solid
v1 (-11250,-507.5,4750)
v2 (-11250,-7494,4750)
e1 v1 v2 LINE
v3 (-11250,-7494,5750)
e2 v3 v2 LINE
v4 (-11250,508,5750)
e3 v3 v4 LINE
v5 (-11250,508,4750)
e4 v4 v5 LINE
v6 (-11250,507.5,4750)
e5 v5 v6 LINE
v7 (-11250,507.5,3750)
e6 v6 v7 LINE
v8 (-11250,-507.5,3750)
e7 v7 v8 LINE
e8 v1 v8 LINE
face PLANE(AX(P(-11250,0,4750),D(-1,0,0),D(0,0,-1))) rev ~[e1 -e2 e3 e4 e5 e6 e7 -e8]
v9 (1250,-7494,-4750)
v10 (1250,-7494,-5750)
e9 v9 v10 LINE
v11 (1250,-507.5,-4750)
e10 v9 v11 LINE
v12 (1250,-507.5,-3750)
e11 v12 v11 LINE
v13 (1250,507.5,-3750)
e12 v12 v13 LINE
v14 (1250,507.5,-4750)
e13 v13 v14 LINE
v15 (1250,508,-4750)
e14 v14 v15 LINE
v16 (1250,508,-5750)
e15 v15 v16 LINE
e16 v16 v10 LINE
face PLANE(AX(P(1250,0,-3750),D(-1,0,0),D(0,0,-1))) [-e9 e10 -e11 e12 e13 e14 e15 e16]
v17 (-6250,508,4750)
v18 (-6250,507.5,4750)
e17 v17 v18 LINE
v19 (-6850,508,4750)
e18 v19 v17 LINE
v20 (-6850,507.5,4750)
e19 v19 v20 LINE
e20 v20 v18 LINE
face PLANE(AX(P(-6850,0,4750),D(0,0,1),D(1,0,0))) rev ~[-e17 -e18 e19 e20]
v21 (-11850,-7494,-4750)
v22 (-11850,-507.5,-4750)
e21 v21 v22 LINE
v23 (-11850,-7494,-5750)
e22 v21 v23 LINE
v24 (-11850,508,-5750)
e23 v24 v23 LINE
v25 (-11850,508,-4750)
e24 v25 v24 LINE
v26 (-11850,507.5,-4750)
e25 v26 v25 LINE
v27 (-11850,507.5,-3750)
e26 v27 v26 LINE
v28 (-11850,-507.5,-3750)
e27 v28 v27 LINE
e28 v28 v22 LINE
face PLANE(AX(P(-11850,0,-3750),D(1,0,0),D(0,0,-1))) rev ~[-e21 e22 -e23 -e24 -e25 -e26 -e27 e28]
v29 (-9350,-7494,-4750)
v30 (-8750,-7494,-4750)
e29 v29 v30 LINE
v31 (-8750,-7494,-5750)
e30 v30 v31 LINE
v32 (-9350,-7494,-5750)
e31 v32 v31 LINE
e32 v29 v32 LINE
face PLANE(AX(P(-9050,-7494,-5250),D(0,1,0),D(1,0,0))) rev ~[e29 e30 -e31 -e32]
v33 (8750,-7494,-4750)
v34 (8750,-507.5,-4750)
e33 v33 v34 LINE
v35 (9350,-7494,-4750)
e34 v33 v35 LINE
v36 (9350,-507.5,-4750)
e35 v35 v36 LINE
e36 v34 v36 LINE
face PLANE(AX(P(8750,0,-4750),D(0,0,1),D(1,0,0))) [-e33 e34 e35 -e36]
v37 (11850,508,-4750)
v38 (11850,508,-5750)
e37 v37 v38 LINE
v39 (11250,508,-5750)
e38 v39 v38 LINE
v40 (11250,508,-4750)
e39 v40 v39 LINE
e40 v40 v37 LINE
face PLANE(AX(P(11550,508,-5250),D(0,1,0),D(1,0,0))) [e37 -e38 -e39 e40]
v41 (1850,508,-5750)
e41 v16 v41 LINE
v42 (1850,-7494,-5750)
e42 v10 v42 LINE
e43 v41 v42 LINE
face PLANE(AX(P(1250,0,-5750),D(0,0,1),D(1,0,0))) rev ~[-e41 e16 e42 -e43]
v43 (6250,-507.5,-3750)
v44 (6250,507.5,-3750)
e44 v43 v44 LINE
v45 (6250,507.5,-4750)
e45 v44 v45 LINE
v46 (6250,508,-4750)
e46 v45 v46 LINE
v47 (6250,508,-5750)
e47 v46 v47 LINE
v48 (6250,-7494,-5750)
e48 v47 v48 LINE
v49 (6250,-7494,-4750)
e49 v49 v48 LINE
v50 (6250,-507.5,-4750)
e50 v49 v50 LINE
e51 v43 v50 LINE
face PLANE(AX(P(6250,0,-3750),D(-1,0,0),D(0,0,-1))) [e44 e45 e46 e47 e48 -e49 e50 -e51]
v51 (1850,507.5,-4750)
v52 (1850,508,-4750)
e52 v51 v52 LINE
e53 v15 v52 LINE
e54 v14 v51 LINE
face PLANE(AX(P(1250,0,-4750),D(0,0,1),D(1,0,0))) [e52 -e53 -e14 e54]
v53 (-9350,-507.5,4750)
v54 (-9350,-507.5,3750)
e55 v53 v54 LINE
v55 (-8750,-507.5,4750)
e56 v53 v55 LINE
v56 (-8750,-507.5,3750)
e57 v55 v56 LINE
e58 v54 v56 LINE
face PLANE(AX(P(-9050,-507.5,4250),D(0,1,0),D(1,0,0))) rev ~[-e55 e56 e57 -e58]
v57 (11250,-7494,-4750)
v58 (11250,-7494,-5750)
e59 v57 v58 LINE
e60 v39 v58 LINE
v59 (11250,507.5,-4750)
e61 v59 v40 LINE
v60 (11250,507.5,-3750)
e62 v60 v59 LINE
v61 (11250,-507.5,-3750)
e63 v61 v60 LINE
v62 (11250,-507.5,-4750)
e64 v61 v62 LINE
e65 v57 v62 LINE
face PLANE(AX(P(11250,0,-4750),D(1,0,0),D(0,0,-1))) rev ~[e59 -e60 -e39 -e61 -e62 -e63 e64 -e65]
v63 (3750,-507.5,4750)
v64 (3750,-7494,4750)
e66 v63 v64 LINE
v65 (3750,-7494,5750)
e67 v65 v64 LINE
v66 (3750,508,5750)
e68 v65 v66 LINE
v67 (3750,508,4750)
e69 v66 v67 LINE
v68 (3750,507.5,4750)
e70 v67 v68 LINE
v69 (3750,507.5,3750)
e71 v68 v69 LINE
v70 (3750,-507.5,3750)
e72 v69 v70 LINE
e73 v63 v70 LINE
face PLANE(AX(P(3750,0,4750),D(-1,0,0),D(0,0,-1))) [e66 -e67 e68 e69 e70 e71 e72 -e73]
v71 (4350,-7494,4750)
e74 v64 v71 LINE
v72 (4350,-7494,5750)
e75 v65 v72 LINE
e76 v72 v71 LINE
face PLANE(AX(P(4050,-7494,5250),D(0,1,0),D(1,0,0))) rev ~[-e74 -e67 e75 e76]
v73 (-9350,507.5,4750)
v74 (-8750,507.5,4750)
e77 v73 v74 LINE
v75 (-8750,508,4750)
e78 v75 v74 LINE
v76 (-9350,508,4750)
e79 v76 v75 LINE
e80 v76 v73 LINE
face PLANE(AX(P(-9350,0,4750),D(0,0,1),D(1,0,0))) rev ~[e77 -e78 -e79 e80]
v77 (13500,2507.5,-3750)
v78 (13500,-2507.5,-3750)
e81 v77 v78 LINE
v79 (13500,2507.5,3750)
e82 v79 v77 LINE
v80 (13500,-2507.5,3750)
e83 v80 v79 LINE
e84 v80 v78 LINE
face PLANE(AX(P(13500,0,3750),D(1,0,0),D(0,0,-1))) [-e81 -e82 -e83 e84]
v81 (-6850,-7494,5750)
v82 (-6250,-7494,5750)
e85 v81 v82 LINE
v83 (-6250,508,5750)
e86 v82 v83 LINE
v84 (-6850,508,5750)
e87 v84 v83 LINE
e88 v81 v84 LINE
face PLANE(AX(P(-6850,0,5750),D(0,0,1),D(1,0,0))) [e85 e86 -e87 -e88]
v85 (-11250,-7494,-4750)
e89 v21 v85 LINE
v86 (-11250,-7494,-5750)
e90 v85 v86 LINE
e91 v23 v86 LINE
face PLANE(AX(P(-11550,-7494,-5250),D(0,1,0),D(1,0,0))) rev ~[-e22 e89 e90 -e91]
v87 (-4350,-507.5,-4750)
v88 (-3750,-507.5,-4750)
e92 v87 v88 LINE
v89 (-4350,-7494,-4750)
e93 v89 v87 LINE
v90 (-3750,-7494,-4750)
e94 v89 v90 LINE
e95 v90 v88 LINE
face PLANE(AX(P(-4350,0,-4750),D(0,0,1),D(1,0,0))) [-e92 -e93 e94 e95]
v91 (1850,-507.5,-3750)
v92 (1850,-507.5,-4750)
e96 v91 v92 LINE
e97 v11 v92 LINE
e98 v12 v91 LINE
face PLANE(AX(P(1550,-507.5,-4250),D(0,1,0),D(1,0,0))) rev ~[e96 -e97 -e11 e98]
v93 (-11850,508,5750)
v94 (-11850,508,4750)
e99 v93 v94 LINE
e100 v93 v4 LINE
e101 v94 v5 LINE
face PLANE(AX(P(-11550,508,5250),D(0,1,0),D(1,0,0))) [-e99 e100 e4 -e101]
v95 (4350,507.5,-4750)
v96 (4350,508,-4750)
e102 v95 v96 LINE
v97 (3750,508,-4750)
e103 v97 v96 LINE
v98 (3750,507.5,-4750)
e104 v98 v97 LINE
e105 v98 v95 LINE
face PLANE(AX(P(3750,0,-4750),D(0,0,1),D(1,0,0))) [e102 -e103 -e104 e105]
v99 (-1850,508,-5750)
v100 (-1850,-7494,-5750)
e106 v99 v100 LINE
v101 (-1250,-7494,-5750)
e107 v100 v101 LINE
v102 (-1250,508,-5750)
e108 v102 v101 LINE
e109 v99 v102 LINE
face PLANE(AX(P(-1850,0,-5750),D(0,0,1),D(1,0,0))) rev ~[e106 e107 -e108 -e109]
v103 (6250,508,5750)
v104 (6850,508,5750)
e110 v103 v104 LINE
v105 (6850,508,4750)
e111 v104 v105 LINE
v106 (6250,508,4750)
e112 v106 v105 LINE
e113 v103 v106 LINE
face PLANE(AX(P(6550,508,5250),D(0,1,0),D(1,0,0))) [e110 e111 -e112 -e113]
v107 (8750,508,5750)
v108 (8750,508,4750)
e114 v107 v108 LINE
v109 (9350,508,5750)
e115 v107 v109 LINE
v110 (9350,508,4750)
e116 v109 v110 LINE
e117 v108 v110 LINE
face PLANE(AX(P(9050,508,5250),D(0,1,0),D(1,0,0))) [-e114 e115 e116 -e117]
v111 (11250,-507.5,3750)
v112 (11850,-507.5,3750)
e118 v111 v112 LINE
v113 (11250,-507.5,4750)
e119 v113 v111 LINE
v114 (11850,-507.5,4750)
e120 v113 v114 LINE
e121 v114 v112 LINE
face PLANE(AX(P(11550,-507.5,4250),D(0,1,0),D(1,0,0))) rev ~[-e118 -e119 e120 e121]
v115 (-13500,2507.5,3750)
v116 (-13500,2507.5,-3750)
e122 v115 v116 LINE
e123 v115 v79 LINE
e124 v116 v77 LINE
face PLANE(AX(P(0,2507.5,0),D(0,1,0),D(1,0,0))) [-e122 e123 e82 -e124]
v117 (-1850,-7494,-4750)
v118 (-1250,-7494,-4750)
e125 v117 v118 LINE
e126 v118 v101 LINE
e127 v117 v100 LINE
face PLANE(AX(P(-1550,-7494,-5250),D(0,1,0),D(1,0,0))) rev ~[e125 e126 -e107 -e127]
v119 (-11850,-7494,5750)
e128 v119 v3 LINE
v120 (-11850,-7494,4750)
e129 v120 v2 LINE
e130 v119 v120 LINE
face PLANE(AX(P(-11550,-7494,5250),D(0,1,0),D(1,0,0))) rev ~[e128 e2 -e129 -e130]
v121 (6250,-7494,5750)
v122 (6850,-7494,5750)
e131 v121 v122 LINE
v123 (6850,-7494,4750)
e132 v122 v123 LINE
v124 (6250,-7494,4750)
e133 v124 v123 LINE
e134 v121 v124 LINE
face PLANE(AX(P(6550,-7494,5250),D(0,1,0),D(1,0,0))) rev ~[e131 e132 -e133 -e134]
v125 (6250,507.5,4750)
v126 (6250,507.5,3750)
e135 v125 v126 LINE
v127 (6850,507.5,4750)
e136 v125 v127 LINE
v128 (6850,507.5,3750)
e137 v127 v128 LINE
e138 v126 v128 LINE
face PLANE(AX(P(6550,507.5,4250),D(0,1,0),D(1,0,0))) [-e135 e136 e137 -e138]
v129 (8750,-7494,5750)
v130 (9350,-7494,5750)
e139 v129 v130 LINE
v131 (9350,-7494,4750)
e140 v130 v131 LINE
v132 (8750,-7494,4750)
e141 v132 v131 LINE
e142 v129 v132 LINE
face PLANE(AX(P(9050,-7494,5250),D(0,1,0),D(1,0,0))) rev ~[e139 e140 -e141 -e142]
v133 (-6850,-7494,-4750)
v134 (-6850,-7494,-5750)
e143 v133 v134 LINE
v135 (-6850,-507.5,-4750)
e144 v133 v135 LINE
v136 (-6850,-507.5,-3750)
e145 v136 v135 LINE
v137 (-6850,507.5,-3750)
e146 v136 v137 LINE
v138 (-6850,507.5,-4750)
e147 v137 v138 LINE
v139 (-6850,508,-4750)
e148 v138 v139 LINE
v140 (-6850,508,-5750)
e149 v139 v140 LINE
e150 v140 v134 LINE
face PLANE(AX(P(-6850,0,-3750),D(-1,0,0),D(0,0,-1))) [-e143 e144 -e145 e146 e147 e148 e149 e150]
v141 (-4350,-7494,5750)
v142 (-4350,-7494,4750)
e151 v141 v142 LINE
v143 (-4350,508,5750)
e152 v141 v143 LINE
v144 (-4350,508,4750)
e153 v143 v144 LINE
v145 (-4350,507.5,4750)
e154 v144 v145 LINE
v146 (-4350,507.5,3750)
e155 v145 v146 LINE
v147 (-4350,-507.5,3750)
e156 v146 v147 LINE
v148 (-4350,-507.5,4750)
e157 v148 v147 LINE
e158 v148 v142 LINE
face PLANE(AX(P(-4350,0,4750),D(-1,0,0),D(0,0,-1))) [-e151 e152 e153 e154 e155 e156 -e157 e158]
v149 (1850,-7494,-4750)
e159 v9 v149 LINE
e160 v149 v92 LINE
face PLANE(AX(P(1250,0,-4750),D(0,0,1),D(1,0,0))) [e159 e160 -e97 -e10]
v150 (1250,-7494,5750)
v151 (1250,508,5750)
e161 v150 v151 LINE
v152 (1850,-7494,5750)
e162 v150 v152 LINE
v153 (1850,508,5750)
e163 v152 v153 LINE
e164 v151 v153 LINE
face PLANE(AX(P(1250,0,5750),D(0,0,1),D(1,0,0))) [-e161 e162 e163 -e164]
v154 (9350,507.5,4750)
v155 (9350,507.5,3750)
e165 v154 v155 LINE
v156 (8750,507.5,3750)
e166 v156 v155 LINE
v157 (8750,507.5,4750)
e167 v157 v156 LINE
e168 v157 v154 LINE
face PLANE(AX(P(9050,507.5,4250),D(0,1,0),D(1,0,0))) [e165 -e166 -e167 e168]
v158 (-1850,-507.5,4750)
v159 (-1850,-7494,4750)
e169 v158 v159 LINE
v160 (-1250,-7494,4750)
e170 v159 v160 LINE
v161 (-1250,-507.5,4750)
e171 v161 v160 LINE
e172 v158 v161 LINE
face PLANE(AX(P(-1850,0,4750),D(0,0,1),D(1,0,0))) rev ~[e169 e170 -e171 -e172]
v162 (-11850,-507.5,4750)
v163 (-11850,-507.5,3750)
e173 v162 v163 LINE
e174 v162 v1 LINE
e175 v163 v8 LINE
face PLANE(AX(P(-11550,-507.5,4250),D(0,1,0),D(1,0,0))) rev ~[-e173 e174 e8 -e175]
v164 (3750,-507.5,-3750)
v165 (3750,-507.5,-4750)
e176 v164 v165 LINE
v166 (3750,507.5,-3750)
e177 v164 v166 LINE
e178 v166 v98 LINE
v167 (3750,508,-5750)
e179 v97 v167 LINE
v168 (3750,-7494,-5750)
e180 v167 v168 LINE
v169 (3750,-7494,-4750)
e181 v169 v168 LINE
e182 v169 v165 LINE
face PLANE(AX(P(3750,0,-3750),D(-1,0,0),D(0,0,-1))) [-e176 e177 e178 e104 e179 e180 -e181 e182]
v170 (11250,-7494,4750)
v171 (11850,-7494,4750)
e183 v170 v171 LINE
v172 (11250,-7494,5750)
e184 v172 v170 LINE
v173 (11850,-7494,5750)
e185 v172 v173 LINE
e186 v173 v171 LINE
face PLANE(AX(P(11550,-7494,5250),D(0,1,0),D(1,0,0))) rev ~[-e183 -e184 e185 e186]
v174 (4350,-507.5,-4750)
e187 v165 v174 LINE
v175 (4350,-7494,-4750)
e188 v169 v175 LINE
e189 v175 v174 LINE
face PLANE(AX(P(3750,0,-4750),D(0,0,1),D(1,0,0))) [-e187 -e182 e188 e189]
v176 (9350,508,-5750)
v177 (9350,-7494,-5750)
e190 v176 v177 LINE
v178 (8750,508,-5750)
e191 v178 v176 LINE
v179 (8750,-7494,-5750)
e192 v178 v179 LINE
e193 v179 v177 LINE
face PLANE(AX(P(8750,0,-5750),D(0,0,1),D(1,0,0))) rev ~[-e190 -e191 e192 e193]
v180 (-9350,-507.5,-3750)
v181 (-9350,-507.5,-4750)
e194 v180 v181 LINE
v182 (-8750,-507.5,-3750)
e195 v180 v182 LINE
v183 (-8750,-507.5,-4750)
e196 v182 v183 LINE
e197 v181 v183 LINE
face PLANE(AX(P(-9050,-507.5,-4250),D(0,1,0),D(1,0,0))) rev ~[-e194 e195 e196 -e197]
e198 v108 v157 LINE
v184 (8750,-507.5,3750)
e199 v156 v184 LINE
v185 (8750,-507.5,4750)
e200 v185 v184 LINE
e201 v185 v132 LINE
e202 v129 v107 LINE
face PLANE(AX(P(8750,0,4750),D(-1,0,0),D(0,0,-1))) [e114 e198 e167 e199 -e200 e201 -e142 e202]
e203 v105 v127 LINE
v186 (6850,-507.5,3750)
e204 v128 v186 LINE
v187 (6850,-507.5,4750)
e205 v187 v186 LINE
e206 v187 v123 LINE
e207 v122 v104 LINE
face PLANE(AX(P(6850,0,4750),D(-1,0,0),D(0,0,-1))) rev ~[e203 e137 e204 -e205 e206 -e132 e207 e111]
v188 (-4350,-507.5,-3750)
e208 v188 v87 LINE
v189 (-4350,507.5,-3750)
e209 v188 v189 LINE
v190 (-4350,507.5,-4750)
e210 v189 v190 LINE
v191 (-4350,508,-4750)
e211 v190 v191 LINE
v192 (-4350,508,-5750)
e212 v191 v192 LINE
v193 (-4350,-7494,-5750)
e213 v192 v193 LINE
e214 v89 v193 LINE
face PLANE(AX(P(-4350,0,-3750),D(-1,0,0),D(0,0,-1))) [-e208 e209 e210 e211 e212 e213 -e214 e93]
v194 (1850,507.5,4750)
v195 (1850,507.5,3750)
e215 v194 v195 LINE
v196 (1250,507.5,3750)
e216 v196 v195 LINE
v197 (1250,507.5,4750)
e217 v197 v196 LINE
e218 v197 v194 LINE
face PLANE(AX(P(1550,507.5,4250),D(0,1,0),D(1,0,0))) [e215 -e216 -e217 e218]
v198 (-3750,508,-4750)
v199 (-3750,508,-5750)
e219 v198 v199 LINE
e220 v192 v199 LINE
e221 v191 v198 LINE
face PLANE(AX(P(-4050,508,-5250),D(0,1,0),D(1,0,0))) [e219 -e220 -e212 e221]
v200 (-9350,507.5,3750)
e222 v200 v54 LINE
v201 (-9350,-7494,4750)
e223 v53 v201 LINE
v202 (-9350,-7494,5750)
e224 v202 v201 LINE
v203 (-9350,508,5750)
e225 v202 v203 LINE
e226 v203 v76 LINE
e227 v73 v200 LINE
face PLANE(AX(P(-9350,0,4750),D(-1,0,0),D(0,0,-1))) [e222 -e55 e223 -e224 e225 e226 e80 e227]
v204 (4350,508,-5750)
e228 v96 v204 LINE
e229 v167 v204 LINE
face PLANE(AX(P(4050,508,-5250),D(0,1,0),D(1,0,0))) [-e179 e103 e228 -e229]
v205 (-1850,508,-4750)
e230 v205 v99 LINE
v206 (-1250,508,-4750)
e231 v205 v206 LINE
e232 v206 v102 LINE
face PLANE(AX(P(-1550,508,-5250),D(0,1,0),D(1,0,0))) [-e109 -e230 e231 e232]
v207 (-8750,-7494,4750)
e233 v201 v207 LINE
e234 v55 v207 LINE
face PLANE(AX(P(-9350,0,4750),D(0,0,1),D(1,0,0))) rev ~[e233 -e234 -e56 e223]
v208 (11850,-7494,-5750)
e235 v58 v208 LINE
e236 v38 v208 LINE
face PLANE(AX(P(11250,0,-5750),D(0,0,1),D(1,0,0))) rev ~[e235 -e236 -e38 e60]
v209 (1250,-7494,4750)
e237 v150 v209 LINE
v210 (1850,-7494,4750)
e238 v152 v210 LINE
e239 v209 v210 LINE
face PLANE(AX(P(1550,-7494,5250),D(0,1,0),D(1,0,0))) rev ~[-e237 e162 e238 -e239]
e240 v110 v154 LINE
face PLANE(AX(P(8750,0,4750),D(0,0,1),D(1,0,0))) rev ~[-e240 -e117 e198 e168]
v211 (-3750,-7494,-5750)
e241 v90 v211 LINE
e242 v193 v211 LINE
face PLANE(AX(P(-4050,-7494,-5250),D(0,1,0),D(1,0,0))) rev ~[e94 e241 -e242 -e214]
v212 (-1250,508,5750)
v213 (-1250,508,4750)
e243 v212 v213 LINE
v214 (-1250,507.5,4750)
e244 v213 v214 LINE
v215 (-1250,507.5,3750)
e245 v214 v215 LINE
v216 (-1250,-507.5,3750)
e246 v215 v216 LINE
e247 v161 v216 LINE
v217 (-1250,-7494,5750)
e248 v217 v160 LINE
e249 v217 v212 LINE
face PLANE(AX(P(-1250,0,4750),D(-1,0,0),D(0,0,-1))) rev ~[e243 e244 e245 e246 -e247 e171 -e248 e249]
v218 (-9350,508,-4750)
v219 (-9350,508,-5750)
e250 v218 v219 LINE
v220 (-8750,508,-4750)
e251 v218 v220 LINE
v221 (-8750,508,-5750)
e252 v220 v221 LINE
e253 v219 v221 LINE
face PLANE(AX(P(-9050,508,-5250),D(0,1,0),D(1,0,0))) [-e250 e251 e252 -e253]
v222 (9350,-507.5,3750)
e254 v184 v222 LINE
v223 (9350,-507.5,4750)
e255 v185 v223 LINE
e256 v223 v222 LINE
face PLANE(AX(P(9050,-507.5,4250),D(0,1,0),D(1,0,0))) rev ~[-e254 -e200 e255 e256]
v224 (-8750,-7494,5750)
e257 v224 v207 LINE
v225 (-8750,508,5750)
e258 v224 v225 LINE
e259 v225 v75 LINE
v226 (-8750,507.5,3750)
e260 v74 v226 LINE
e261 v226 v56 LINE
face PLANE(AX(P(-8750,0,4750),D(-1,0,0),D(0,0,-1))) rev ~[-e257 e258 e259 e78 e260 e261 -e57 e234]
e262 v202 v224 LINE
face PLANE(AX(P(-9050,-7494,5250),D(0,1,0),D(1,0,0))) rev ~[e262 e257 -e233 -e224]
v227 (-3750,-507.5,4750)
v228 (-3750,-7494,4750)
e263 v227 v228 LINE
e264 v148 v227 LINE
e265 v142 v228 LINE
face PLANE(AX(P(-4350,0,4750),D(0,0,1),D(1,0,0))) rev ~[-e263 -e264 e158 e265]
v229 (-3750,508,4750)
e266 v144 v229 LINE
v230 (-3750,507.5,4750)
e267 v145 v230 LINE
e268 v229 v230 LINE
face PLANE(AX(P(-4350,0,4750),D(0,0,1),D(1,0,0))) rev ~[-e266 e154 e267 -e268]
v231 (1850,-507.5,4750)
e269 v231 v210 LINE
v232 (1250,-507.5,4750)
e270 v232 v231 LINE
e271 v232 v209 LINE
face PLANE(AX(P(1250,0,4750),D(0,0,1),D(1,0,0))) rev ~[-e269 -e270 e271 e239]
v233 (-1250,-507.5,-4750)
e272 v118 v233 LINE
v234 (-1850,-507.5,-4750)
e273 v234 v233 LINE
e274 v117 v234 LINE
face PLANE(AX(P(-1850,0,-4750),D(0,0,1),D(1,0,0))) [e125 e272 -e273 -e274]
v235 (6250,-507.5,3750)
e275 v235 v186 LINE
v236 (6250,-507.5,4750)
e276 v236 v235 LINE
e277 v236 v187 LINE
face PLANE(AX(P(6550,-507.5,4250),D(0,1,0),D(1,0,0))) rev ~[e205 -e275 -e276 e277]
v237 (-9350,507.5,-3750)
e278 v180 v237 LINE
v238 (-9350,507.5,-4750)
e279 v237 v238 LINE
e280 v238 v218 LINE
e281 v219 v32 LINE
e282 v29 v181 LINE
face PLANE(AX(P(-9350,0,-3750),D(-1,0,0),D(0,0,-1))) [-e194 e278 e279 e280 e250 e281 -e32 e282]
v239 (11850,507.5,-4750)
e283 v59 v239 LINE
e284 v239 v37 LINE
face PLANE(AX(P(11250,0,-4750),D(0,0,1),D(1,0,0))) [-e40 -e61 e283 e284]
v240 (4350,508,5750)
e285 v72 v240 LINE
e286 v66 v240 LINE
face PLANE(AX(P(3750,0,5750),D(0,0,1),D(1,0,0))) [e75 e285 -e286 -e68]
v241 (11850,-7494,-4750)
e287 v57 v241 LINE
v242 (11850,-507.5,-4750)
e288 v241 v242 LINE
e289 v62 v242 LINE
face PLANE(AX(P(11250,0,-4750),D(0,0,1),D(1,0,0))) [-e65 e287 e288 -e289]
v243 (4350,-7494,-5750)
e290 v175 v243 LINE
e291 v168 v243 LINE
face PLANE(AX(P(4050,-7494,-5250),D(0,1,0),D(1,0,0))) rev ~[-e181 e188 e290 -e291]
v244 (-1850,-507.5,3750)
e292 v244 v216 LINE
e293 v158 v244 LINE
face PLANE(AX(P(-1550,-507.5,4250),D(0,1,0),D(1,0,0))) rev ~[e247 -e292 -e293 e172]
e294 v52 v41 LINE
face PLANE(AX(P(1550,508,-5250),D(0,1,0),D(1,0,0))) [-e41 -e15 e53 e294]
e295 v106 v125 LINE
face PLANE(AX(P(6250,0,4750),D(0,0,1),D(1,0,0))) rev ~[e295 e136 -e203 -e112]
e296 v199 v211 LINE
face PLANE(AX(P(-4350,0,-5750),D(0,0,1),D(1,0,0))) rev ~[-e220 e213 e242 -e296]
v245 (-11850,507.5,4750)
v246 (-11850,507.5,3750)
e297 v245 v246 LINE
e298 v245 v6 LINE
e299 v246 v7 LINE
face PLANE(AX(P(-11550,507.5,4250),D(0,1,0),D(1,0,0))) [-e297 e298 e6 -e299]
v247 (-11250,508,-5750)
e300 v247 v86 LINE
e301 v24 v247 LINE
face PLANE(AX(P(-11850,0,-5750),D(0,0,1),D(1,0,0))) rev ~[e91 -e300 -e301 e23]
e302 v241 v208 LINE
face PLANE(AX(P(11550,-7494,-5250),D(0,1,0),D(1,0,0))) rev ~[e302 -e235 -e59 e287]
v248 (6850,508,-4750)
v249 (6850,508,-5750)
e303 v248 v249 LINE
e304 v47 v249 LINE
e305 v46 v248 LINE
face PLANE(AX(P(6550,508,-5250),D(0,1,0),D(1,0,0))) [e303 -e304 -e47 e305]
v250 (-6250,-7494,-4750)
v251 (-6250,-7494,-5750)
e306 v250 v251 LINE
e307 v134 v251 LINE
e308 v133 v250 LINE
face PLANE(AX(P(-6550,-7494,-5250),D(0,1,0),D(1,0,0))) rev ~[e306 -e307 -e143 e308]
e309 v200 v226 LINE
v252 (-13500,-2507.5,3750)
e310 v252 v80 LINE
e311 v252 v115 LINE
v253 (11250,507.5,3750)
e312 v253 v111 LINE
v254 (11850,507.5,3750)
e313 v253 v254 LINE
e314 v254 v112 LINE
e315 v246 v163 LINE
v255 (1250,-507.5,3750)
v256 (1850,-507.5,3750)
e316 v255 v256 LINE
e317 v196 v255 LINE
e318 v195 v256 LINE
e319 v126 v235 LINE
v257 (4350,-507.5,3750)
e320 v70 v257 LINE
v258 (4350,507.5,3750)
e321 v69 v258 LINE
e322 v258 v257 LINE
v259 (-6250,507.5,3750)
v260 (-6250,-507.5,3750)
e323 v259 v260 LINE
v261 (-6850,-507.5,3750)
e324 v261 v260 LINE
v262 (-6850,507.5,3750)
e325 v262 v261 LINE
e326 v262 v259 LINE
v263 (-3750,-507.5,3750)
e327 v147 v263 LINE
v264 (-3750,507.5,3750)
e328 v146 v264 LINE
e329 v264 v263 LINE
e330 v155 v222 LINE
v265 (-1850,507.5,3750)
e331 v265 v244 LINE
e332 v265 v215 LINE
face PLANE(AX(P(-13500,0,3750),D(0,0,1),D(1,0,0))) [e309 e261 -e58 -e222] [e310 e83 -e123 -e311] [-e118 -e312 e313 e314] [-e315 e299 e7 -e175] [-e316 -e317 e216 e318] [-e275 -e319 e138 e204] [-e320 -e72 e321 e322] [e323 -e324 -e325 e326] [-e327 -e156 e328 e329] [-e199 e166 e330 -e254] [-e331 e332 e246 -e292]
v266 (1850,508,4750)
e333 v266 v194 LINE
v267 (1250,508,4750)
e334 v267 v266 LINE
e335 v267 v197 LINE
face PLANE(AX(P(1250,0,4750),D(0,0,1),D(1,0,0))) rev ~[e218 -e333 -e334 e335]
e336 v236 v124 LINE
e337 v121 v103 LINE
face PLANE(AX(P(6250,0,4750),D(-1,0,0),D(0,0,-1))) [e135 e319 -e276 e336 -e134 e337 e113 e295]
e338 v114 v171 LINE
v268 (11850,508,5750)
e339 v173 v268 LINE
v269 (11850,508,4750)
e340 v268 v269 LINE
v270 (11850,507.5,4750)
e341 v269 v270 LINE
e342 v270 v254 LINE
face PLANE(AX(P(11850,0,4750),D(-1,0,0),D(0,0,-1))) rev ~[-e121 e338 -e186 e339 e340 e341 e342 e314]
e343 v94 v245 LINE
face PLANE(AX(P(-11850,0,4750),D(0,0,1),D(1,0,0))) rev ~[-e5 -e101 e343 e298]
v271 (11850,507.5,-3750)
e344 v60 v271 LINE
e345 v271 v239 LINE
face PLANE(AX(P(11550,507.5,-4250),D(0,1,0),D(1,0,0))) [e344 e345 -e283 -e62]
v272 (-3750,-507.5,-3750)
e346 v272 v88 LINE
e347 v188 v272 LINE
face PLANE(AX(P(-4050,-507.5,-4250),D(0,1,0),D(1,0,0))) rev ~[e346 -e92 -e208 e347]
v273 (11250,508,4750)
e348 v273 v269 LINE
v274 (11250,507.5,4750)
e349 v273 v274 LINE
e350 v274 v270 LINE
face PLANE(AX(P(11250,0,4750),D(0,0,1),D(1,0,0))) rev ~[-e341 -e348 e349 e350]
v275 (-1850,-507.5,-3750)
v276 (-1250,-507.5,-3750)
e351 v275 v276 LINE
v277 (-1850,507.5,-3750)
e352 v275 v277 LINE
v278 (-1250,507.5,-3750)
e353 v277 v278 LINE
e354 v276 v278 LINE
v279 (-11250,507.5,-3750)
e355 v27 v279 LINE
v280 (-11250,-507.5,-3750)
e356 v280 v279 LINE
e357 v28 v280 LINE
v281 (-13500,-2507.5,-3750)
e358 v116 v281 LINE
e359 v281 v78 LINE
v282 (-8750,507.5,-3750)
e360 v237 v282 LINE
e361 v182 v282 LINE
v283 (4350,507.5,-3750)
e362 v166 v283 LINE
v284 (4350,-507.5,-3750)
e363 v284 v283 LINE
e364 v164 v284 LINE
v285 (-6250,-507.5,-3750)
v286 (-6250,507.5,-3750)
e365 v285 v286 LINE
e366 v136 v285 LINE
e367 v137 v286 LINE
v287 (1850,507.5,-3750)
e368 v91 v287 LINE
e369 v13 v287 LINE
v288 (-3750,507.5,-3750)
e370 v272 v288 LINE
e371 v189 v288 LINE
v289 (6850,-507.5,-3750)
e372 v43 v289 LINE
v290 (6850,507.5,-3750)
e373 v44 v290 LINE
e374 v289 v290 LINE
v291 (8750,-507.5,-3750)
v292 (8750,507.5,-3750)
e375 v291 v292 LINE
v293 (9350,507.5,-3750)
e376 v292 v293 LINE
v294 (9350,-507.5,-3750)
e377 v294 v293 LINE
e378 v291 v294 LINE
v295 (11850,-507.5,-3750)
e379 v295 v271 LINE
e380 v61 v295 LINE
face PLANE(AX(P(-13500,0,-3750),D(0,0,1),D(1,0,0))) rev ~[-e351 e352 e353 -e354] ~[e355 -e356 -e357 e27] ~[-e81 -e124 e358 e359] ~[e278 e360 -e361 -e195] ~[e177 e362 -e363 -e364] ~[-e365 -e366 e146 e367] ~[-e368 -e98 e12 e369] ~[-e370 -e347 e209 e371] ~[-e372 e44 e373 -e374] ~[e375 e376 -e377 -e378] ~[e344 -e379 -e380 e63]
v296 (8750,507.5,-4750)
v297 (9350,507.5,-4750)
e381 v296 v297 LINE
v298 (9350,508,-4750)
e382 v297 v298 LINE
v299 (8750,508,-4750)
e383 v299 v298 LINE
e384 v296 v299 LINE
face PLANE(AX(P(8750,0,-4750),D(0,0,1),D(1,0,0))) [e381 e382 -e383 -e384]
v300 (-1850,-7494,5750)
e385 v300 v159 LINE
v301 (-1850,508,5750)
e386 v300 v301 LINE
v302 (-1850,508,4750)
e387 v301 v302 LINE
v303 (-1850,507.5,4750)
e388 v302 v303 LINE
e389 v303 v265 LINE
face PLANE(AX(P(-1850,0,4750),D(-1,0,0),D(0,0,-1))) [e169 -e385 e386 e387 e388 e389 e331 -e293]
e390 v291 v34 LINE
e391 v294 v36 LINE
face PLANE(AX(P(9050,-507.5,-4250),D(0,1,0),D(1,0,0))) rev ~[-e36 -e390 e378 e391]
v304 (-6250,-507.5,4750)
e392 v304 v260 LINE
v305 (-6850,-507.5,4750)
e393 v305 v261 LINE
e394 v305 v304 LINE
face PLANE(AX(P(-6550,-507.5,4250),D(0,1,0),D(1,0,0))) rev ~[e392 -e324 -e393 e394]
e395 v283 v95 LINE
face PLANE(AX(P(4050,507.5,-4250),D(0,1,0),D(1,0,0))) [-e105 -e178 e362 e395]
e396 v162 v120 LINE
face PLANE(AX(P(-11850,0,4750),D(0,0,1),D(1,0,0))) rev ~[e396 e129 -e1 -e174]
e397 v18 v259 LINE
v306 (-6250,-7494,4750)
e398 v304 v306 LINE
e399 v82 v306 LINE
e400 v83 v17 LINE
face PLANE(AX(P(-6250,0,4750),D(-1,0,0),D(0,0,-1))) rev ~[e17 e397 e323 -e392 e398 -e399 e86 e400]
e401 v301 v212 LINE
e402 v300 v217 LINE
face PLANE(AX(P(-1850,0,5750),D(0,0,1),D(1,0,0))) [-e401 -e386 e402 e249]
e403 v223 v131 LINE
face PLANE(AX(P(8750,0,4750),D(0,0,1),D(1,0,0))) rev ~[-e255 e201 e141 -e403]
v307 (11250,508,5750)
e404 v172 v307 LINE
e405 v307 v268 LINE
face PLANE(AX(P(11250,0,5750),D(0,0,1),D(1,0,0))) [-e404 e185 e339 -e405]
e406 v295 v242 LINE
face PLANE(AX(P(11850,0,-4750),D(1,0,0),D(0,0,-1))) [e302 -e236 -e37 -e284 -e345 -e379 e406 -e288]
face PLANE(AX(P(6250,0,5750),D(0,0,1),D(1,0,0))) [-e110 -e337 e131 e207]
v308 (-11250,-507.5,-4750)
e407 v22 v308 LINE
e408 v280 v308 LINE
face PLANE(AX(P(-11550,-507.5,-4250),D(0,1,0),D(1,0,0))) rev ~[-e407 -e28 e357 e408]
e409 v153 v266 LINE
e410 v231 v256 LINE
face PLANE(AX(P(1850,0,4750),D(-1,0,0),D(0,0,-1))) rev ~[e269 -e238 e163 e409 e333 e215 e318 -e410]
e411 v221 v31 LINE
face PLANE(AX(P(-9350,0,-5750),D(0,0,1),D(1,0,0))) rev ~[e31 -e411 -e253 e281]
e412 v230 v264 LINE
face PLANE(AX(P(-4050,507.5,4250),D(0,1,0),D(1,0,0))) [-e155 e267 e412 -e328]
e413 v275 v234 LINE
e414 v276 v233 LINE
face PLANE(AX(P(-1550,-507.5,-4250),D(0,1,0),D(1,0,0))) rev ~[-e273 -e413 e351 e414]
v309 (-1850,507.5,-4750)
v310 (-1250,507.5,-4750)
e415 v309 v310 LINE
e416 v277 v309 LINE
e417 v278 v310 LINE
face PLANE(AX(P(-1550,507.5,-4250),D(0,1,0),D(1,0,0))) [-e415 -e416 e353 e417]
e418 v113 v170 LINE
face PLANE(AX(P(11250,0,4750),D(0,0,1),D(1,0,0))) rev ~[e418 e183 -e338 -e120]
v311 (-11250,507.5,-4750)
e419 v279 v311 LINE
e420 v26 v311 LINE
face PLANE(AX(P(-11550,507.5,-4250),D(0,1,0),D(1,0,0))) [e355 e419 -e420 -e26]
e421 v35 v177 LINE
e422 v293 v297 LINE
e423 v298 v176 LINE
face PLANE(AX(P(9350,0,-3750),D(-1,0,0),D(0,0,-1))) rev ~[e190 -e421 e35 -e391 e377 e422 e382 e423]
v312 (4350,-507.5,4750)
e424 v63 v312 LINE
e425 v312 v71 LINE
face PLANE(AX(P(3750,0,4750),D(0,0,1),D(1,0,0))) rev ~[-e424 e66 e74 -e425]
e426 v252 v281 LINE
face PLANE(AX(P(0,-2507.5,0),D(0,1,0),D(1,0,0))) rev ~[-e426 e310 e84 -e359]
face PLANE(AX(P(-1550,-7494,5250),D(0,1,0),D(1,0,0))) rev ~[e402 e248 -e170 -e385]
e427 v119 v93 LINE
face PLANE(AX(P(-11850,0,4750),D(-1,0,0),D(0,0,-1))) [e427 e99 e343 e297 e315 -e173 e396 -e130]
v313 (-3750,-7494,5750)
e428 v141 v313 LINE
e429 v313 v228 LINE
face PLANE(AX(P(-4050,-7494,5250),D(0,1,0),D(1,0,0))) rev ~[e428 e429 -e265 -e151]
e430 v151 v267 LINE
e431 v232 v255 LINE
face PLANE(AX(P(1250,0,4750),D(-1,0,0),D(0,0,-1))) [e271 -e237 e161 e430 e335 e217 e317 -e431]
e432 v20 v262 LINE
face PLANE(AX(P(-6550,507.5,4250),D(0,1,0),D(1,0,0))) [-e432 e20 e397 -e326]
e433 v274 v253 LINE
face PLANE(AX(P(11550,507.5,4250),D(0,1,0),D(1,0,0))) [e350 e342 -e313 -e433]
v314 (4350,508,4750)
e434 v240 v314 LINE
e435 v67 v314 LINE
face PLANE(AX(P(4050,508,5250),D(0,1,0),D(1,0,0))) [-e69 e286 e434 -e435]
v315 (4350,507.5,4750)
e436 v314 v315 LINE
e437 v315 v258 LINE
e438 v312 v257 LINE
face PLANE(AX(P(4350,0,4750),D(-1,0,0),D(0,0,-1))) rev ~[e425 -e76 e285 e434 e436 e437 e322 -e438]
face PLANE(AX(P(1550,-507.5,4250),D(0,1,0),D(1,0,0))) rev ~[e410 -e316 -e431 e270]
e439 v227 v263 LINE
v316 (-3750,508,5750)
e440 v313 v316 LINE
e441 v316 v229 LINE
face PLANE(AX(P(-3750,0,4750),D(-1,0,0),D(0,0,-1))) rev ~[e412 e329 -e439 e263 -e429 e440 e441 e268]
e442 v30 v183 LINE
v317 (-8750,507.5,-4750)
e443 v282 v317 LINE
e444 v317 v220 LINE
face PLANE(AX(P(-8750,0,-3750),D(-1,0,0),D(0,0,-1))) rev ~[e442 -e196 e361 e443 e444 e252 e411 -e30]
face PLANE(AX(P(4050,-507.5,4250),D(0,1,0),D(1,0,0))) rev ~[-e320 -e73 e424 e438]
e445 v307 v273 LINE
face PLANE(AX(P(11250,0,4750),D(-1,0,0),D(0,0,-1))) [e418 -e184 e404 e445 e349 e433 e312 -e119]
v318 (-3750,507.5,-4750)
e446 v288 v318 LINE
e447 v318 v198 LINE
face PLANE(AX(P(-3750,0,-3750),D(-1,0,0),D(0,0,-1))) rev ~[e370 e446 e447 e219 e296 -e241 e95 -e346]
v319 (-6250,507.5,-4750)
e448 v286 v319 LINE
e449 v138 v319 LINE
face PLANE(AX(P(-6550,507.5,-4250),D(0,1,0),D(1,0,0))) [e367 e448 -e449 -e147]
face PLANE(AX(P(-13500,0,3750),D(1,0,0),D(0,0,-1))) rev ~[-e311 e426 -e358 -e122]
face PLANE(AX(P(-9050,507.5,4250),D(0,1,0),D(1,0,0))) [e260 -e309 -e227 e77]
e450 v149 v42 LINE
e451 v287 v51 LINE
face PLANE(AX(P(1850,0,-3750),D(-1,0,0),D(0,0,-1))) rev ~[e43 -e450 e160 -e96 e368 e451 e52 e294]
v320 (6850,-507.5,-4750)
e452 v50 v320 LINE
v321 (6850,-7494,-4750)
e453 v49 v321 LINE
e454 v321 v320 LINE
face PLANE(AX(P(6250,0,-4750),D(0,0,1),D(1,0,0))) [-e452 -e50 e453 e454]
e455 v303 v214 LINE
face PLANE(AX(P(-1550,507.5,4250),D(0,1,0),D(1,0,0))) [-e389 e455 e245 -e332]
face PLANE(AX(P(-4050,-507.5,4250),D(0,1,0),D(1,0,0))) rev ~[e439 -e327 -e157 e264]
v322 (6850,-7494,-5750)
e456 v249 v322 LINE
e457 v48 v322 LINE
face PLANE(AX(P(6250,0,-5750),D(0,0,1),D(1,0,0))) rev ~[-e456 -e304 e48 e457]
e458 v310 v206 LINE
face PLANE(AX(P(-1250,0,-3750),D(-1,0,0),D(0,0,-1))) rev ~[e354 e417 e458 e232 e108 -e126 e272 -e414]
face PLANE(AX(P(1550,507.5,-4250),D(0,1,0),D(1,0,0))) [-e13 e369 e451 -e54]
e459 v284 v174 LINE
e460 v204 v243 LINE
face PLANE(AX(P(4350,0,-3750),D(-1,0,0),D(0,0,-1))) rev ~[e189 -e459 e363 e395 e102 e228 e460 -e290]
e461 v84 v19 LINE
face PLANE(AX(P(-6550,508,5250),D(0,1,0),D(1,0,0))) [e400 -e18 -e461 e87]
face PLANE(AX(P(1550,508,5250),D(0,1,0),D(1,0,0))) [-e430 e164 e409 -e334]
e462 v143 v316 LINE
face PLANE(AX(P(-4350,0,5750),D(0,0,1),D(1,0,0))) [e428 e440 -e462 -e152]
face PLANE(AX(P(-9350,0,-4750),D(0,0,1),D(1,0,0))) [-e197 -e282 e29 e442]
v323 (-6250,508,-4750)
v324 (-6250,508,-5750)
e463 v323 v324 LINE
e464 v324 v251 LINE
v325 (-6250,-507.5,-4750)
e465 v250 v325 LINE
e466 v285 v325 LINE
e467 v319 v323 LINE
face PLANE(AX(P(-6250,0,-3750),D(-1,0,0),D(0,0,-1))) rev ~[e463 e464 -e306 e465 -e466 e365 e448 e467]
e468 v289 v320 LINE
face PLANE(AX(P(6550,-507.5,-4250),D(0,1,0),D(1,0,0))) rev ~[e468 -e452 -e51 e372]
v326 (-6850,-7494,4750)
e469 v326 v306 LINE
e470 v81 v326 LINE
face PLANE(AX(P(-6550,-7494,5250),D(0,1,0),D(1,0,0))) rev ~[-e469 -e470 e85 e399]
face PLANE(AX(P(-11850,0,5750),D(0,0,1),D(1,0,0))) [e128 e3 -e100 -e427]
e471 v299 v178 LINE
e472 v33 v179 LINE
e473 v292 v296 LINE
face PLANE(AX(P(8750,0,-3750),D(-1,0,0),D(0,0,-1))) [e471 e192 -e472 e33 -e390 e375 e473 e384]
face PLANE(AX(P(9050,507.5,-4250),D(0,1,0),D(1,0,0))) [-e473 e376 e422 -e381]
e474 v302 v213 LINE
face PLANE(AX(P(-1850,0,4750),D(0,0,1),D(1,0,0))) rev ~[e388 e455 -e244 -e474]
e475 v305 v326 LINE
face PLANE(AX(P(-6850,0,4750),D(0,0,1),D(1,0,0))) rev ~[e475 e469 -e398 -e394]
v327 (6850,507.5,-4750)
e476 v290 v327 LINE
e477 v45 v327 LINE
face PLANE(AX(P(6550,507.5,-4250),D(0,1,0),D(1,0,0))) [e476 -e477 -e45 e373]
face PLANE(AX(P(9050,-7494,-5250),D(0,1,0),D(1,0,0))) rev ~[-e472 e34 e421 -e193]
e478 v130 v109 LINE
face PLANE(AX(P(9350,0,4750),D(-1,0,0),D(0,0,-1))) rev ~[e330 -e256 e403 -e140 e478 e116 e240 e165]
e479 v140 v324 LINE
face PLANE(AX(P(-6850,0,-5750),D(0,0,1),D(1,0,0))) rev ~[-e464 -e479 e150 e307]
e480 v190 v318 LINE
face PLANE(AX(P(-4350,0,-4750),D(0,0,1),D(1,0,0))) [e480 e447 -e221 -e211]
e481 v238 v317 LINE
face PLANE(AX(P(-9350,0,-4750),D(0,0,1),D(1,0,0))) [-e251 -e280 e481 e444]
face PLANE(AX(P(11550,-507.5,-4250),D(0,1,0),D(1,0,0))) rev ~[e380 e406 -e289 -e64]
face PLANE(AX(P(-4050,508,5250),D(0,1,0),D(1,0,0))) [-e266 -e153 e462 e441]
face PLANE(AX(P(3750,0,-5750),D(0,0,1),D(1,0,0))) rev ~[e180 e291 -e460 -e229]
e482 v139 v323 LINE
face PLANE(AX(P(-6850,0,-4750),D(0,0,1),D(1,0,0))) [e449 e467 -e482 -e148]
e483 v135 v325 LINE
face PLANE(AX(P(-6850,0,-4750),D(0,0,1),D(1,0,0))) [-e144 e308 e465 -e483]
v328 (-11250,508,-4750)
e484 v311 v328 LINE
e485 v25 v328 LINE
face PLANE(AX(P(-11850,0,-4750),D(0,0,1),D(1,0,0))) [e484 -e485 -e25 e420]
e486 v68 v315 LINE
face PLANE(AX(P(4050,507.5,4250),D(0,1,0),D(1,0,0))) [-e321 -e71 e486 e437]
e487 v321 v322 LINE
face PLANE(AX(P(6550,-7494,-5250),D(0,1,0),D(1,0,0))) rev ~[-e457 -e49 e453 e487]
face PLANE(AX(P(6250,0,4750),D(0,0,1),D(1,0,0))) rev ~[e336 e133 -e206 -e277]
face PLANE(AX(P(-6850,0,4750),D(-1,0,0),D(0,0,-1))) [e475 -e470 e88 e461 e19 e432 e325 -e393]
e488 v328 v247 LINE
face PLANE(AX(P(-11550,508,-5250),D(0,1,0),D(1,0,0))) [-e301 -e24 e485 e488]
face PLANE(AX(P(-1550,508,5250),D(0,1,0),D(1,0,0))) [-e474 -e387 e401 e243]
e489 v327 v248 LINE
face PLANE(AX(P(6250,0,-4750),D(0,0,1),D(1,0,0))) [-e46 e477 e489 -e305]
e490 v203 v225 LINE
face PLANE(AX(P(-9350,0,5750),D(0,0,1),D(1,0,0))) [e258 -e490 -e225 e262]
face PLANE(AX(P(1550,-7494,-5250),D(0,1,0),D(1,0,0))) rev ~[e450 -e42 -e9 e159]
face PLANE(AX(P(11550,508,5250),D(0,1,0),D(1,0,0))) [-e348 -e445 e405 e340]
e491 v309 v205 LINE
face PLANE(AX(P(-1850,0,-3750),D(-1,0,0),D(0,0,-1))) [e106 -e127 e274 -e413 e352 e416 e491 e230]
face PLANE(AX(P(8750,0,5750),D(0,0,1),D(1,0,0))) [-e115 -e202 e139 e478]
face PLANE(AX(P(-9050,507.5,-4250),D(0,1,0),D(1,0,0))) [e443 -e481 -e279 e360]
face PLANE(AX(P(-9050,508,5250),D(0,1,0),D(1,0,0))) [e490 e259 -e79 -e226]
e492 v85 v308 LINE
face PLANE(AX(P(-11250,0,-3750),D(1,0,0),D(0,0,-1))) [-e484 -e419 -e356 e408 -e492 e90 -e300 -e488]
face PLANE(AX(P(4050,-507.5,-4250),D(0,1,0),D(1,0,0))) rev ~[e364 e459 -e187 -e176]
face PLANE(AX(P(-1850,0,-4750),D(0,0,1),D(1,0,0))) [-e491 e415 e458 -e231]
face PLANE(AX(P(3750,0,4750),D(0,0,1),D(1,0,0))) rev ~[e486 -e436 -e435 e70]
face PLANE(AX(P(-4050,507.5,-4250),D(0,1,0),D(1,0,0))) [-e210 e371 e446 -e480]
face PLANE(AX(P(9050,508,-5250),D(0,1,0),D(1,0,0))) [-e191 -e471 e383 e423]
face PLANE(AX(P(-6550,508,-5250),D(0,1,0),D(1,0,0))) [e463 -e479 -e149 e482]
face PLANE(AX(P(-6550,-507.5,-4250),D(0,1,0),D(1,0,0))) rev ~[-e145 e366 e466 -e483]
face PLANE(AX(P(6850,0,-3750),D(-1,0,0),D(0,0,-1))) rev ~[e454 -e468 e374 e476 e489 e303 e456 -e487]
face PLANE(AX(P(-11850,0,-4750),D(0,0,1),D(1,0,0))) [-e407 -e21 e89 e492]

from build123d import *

# Parameters (mm, degrees)
BOSS_EXTRUDE3_DEPTH         = 2507.5
BOSS_EXTRUDE6_DEPTH         = 508
BOSS_EXTRUDE6_DEPTH_BACK    = 7494
SKETCH1_14_W                = 600
SKETCH1_14_H                = 1000
BOSS_EXTRUDE6_2_DEPTH       = 508
BOSS_EXTRUDE6_2_DEPTH_BACK  = 7494
BOSS_EXTRUDE6_3_DEPTH       = 508
BOSS_EXTRUDE6_3_DEPTH_BACK  = 7494
BOSS_EXTRUDE6_4_DEPTH       = 508
BOSS_EXTRUDE6_4_DEPTH_BACK  = 7494
BOSS_EXTRUDE6_5_DEPTH       = 508
BOSS_EXTRUDE6_5_DEPTH_BACK  = 7494
BOSS_EXTRUDE6_6_DEPTH       = 508
BOSS_EXTRUDE6_6_DEPTH_BACK  = 7494
BOSS_EXTRUDE6_7_DEPTH       = 508
BOSS_EXTRUDE6_7_DEPTH_BACK  = 7494
BOSS_EXTRUDE6_8_DEPTH       = 508
BOSS_EXTRUDE6_8_DEPTH_BACK  = 7494
BOSS_EXTRUDE6_9_DEPTH       = 508
BOSS_EXTRUDE6_9_DEPTH_BACK  = 7494
BOSS_EXTRUDE6_10_DEPTH      = 508
BOSS_EXTRUDE6_10_DEPTH_BACK = 7494
BOSS_EXTRUDE6_11_DEPTH      = 508
BOSS_EXTRUDE6_11_DEPTH_BACK = 7494
BOSS_EXTRUDE6_12_DEPTH      = 508
BOSS_EXTRUDE6_12_DEPTH_BACK = 7494
BOSS_EXTRUDE6_13_DEPTH      = 508
BOSS_EXTRUDE6_13_DEPTH_BACK = 7494
BOSS_EXTRUDE6_14_DEPTH      = 508
BOSS_EXTRUDE6_14_DEPTH_BACK = 7494
BOSS_EXTRUDE6_15_DEPTH      = 508
BOSS_EXTRUDE6_15_DEPTH_BACK = 7494
BOSS_EXTRUDE6_16_DEPTH      = 508
BOSS_EXTRUDE6_16_DEPTH_BACK = 7494
BOSS_EXTRUDE6_17_DEPTH      = 508
BOSS_EXTRUDE6_17_DEPTH_BACK = 7494
BOSS_EXTRUDE6_18_DEPTH      = 508
BOSS_EXTRUDE6_18_DEPTH_BACK = 7494
BOSS_EXTRUDE6_19_DEPTH      = 508
BOSS_EXTRUDE6_19_DEPTH_BACK = 7494
BOSS_EXTRUDE6_20_DEPTH      = 508
BOSS_EXTRUDE6_20_DEPTH_BACK = 7494
SKETCH1_17_W                = 600
SKETCH1_17_H                = 1000
BOSS_EXTRUDE8_DEPTH         = 507.5


with BuildPart() as part:
    # Sketch1 → Boss-Extrude3 (new, symmetric)
    with BuildSketch(Plane(origin=(0, 0, 0), x_dir=(1, 0, 0), z_dir=(0, 1, 0))):
        Polygon((-13500, 3750), (-13500, -3750), (-11850, -3750), (-11250, -3750), (-9350, -3750), (-8750, -3750), (-6850, -3750), (-6250, -3750), (-4350, -3750), (-3750, -3750), (-1850, -3750), (-1250, -3750), (1250, -3750), (1850, -3750), (3750, -3750), (4350, -3750), (6250, -3750), (6850, -3750), (8750, -3750), (9350, -3750), (11250, -3750), (11850, -3750), (13500, -3750), (13500, 3750), (11850, 3750), (11250, 3750), (9350, 3750), (8750, 3750), (6850, 3750), (6250, 3750), (4350, 3750), (3750, 3750), (1850, 3750), (1250, 3750), (-1250, 3750), (-1850, 3750), (-3750, 3750), (-4350, 3750), (-6250, 3750), (-6850, 3750), (-8750, 3750), (-9350, 3750), (-11250, 3750), (-11850, 3750), align=None)
    extrude(amount=BOSS_EXTRUDE3_DEPTH, both=True)



with BuildPart() as body_2:
    # Sketch1<14> → Boss-Extrude6 (new, two sides: drawn at the far end of the back side and taken through both)
    with BuildSketch(Plane(origin=(0, 0, 0), x_dir=(1, 0, 0), z_dir=(0, 1, 0)).offset(-BOSS_EXTRUDE6_DEPTH_BACK)):
        with Locations((-11550, -5250)):
            Rectangle(SKETCH1_14_W, SKETCH1_14_H)
    extrude(amount=BOSS_EXTRUDE6_DEPTH + BOSS_EXTRUDE6_DEPTH_BACK)


with BuildPart() as body_3:
    # Sketch1<14> → Boss-Extrude6 2 (new, two sides: drawn at the far end of the back side and taken through both)
    with BuildSketch(Plane(origin=(0, 0, 0), x_dir=(1, 0, 0), z_dir=(0, 1, 0)).offset(-BOSS_EXTRUDE6_2_DEPTH_BACK)):
        with Locations((-11550, 5250)):
            Rectangle(SKETCH1_14_W, SKETCH1_14_H)
    extrude(amount=BOSS_EXTRUDE6_2_DEPTH + BOSS_EXTRUDE6_2_DEPTH_BACK)


with BuildPart() as body_4:
    # Sketch1<14> → Boss-Extrude6 3 (new, two sides: drawn at the far end of the back side and taken through both)
    with BuildSketch(Plane(origin=(0, 0, 0), x_dir=(1, 0, 0), z_dir=(0, 1, 0)).offset(-BOSS_EXTRUDE6_3_DEPTH_BACK)):
        with Locations((-9050, -5250)):
            Rectangle(SKETCH1_14_W, SKETCH1_14_H)
    extrude(amount=BOSS_EXTRUDE6_3_DEPTH + BOSS_EXTRUDE6_3_DEPTH_BACK)


with BuildPart() as body_5:
    # Sketch1<14> → Boss-Extrude6 4 (new, two sides: drawn at the far end of the back side and taken through both)
    with BuildSketch(Plane(origin=(0, 0, 0), x_dir=(1, 0, 0), z_dir=(0, 1, 0)).offset(-BOSS_EXTRUDE6_4_DEPTH_BACK)):
        with Locations((-9050, 5250)):
            Rectangle(SKETCH1_14_W, SKETCH1_14_H)
    extrude(amount=BOSS_EXTRUDE6_4_DEPTH + BOSS_EXTRUDE6_4_DEPTH_BACK)


with BuildPart() as body_6:
    # Sketch1<14> → Boss-Extrude6 5 (new, two sides: drawn at the far end of the back side and taken through both)
    with BuildSketch(Plane(origin=(0, 0, 0), x_dir=(1, 0, 0), z_dir=(0, 1, 0)).offset(-BOSS_EXTRUDE6_5_DEPTH_BACK)):
        with Locations((-6550, -5250)):
            Rectangle(SKETCH1_14_W, SKETCH1_14_H)
    extrude(amount=BOSS_EXTRUDE6_5_DEPTH + BOSS_EXTRUDE6_5_DEPTH_BACK)


with BuildPart() as body_7:
    # Sketch1<14> → Boss-Extrude6 6 (new, two sides: drawn at the far end of the back side and taken through both)
    with BuildSketch(Plane(origin=(0, 0, 0), x_dir=(1, 0, 0), z_dir=(0, 1, 0)).offset(-BOSS_EXTRUDE6_6_DEPTH_BACK)):
        with Locations((-6550, 5250)):
            Rectangle(SKETCH1_14_W, SKETCH1_14_H)
    extrude(amount=BOSS_EXTRUDE6_6_DEPTH + BOSS_EXTRUDE6_6_DEPTH_BACK)


with BuildPart() as body_8:
    # Sketch1<14> → Boss-Extrude6 7 (new, two sides: drawn at the far end of the back side and taken through both)
    with BuildSketch(Plane(origin=(0, 0, 0), x_dir=(1, 0, 0), z_dir=(0, 1, 0)).offset(-BOSS_EXTRUDE6_7_DEPTH_BACK)):
        with Locations((-4050, -5250)):
            Rectangle(SKETCH1_14_W, SKETCH1_14_H)
    extrude(amount=BOSS_EXTRUDE6_7_DEPTH + BOSS_EXTRUDE6_7_DEPTH_BACK)


with BuildPart() as body_9:
    # Sketch1<14> → Boss-Extrude6 8 (new, two sides: drawn at the far end of the back side and taken through both)
    with BuildSketch(Plane(origin=(0, 0, 0), x_dir=(1, 0, 0), z_dir=(0, 1, 0)).offset(-BOSS_EXTRUDE6_8_DEPTH_BACK)):
        with Locations((-4050, 5250)):
            Rectangle(SKETCH1_14_W, SKETCH1_14_H)
    extrude(amount=BOSS_EXTRUDE6_8_DEPTH + BOSS_EXTRUDE6_8_DEPTH_BACK)


with BuildPart() as body_10:
    # Sketch1<14> → Boss-Extrude6 9 (new, two sides: drawn at the far end of the back side and taken through both)
    with BuildSketch(Plane(origin=(0, 0, 0), x_dir=(1, 0, 0), z_dir=(0, 1, 0)).offset(-BOSS_EXTRUDE6_9_DEPTH_BACK)):
        with Locations((-1550, -5250)):
            Rectangle(SKETCH1_14_W, SKETCH1_14_H)
    extrude(amount=BOSS_EXTRUDE6_9_DEPTH + BOSS_EXTRUDE6_9_DEPTH_BACK)


with BuildPart() as body_11:
    # Sketch1<14> → Boss-Extrude6 10 (new, two sides: drawn at the far end of the back side and taken through both)
    with BuildSketch(Plane(origin=(0, 0, 0), x_dir=(1, 0, 0), z_dir=(0, 1, 0)).offset(-BOSS_EXTRUDE6_10_DEPTH_BACK)):
        with Locations((-1550, 5250)):
            Rectangle(SKETCH1_14_W, SKETCH1_14_H)
    extrude(amount=BOSS_EXTRUDE6_10_DEPTH + BOSS_EXTRUDE6_10_DEPTH_BACK)


with BuildPart() as body_12:
    # Sketch1<14> → Boss-Extrude6 11 (new, two sides: drawn at the far end of the back side and taken through both)
    with BuildSketch(Plane(origin=(0, 0, 0), x_dir=(1, 0, 0), z_dir=(0, 1, 0)).offset(-BOSS_EXTRUDE6_11_DEPTH_BACK)):
        with Locations((1550, -5250)):
            Rectangle(SKETCH1_14_W, SKETCH1_14_H)
    extrude(amount=BOSS_EXTRUDE6_11_DEPTH + BOSS_EXTRUDE6_11_DEPTH_BACK)


with BuildPart() as body_13:
    # Sketch1<14> → Boss-Extrude6 12 (new, two sides: drawn at the far end of the back side and taken through both)
    with BuildSketch(Plane(origin=(0, 0, 0), x_dir=(1, 0, 0), z_dir=(0, 1, 0)).offset(-BOSS_EXTRUDE6_12_DEPTH_BACK)):
        with Locations((1550, 5250)):
            Rectangle(SKETCH1_14_W, SKETCH1_14_H)
    extrude(amount=BOSS_EXTRUDE6_12_DEPTH + BOSS_EXTRUDE6_12_DEPTH_BACK)


with BuildPart() as body_14:
    # Sketch1<14> → Boss-Extrude6 13 (new, two sides: drawn at the far end of the back side and taken through both)
    with BuildSketch(Plane(origin=(0, 0, 0), x_dir=(1, 0, 0), z_dir=(0, 1, 0)).offset(-BOSS_EXTRUDE6_13_DEPTH_BACK)):
        with Locations((4050, -5250)):
            Rectangle(SKETCH1_14_W, SKETCH1_14_H)
    extrude(amount=BOSS_EXTRUDE6_13_DEPTH + BOSS_EXTRUDE6_13_DEPTH_BACK)


with BuildPart() as body_15:
    # Sketch1<14> → Boss-Extrude6 14 (new, two sides: drawn at the far end of the back side and taken through both)
    with BuildSketch(Plane(origin=(0, 0, 0), x_dir=(1, 0, 0), z_dir=(0, 1, 0)).offset(-BOSS_EXTRUDE6_14_DEPTH_BACK)):
        with Locations((4050, 5250)):
            Rectangle(SKETCH1_14_W, SKETCH1_14_H)
    extrude(amount=BOSS_EXTRUDE6_14_DEPTH + BOSS_EXTRUDE6_14_DEPTH_BACK)


with BuildPart() as body_16:
    # Sketch1<14> → Boss-Extrude6 15 (new, two sides: drawn at the far end of the back side and taken through both)
    with BuildSketch(Plane(origin=(0, 0, 0), x_dir=(1, 0, 0), z_dir=(0, 1, 0)).offset(-BOSS_EXTRUDE6_15_DEPTH_BACK)):
        with Locations((6550, -5250)):
            Rectangle(SKETCH1_14_W, SKETCH1_14_H)
    extrude(amount=BOSS_EXTRUDE6_15_DEPTH + BOSS_EXTRUDE6_15_DEPTH_BACK)


with BuildPart() as body_17:
    # Sketch1<14> → Boss-Extrude6 16 (new, two sides: drawn at the far end of the back side and taken through both)
    with BuildSketch(Plane(origin=(0, 0, 0), x_dir=(1, 0, 0), z_dir=(0, 1, 0)).offset(-BOSS_EXTRUDE6_16_DEPTH_BACK)):
        with Locations((6550, 5250)):
            Rectangle(SKETCH1_14_W, SKETCH1_14_H)
    extrude(amount=BOSS_EXTRUDE6_16_DEPTH + BOSS_EXTRUDE6_16_DEPTH_BACK)


with BuildPart() as body_18:
    # Sketch1<14> → Boss-Extrude6 17 (new, two sides: drawn at the far end of the back side and taken through both)
    with BuildSketch(Plane(origin=(0, 0, 0), x_dir=(1, 0, 0), z_dir=(0, 1, 0)).offset(-BOSS_EXTRUDE6_17_DEPTH_BACK)):
        with Locations((9050, -5250)):
            Rectangle(SKETCH1_14_W, SKETCH1_14_H)
    extrude(amount=BOSS_EXTRUDE6_17_DEPTH + BOSS_EXTRUDE6_17_DEPTH_BACK)


with BuildPart() as body_19:
    # Sketch1<14> → Boss-Extrude6 18 (new, two sides: drawn at the far end of the back side and taken through both)
    with BuildSketch(Plane(origin=(0, 0, 0), x_dir=(1, 0, 0), z_dir=(0, 1, 0)).offset(-BOSS_EXTRUDE6_18_DEPTH_BACK)):
        with Locations((9050, 5250)):
            Rectangle(SKETCH1_14_W, SKETCH1_14_H)
    extrude(amount=BOSS_EXTRUDE6_18_DEPTH + BOSS_EXTRUDE6_18_DEPTH_BACK)


with BuildPart() as body_20:
    # Sketch1<14> → Boss-Extrude6 19 (new, two sides: drawn at the far end of the back side and taken through both)
    with BuildSketch(Plane(origin=(0, 0, 0), x_dir=(1, 0, 0), z_dir=(0, 1, 0)).offset(-BOSS_EXTRUDE6_19_DEPTH_BACK)):
        with Locations((11550, -5250)):
            Rectangle(SKETCH1_14_W, SKETCH1_14_H)
    extrude(amount=BOSS_EXTRUDE6_19_DEPTH + BOSS_EXTRUDE6_19_DEPTH_BACK)


with BuildPart() as body_21:
    # Sketch1<14> → Boss-Extrude6 20 (new, two sides: drawn at the far end of the back side and taken through both)
    with BuildSketch(Plane(origin=(0, 0, 0), x_dir=(1, 0, 0), z_dir=(0, 1, 0)).offset(-BOSS_EXTRUDE6_20_DEPTH_BACK)):
        with Locations((11550, 5250)):
            Rectangle(SKETCH1_14_W, SKETCH1_14_H)
    extrude(amount=BOSS_EXTRUDE6_20_DEPTH + BOSS_EXTRUDE6_20_DEPTH_BACK)


with BuildPart() as part_1:
    add(part.part)

    add(body_2.part)  # Boss-Extrude8 merges body 2

    add(body_3.part)  # Boss-Extrude8 merges body 3

    add(body_4.part)  # Boss-Extrude8 merges body 4

    add(body_5.part)  # Boss-Extrude8 merges body 5

    add(body_6.part)  # Boss-Extrude8 merges body 6

    add(body_7.part)  # Boss-Extrude8 merges body 7

    add(body_8.part)  # Boss-Extrude8 merges body 8

    add(body_9.part)  # Boss-Extrude8 merges body 9

    add(body_10.part)  # Boss-Extrude8 merges body 10

    add(body_11.part)  # Boss-Extrude8 merges body 11

    add(body_12.part)  # Boss-Extrude8 merges body 12

    add(body_13.part)  # Boss-Extrude8 merges body 13

    add(body_14.part)  # Boss-Extrude8 merges body 14

    add(body_15.part)  # Boss-Extrude8 merges body 15

    add(body_16.part)  # Boss-Extrude8 merges body 16

    add(body_17.part)  # Boss-Extrude8 merges body 17

    add(body_18.part)  # Boss-Extrude8 merges body 18

    add(body_19.part)  # Boss-Extrude8 merges body 19

    add(body_20.part)  # Boss-Extrude8 merges body 20

    add(body_21.part)  # Boss-Extrude8 merges body 21
    # Sketch1<17> → Boss-Extrude8 (add, symmetric)
    with BuildSketch(Plane(origin=(0, 0, 0), x_dir=(1, 0, 0), z_dir=(0, 1, 0))):
        with Locations((-11550, -4250)):
            Rectangle(SKETCH1_17_W, SKETCH1_17_H)
        with Locations((-11550, 4250)):
            Rectangle(SKETCH1_17_W, SKETCH1_17_H)
        with Locations((-9050, -4250)):
            Rectangle(SKETCH1_17_W, SKETCH1_17_H)
        with Locations((-9050, 4250)):
            Rectangle(SKETCH1_17_W, SKETCH1_17_H)
        with Locations((-6550, -4250)):
            Rectangle(SKETCH1_17_W, SKETCH1_17_H)
        with Locations((-6550, 4250)):
            Rectangle(SKETCH1_17_W, SKETCH1_17_H)
        with Locations((-4050, -4250)):
            Rectangle(SKETCH1_17_W, SKETCH1_17_H)
        with Locations((-4050, 4250)):
            Rectangle(SKETCH1_17_W, SKETCH1_17_H)
        with Locations((-1550, -4250)):
            Rectangle(SKETCH1_17_W, SKETCH1_17_H)
        with Locations((-1550, 4250)):
            Rectangle(SKETCH1_17_W, SKETCH1_17_H)
        with Locations((1550, -4250)):
            Rectangle(SKETCH1_17_W, SKETCH1_17_H)
        with Locations((1550, 4250)):
            Rectangle(SKETCH1_17_W, SKETCH1_17_H)
        with Locations((4050, -4250)):
            Rectangle(SKETCH1_17_W, SKETCH1_17_H)
        with Locations((4050, 4250)):
            Rectangle(SKETCH1_17_W, SKETCH1_17_H)
        with Locations((6550, -4250)):
            Rectangle(SKETCH1_17_W, SKETCH1_17_H)
        with Locations((6550, 4250)):
            Rectangle(SKETCH1_17_W, SKETCH1_17_H)
        with Locations((9050, -4250)):
            Rectangle(SKETCH1_17_W, SKETCH1_17_H)
        with Locations((9050, 4250)):
            Rectangle(SKETCH1_17_W, SKETCH1_17_H)
        with Locations((11550, -4250)):
            Rectangle(SKETCH1_17_W, SKETCH1_17_H)
        with Locations((11550, 4250)):
            Rectangle(SKETCH1_17_W, SKETCH1_17_H)
    extrude(amount=BOSS_EXTRUDE8_DEPTH, both=True)


solid = part_1.part
